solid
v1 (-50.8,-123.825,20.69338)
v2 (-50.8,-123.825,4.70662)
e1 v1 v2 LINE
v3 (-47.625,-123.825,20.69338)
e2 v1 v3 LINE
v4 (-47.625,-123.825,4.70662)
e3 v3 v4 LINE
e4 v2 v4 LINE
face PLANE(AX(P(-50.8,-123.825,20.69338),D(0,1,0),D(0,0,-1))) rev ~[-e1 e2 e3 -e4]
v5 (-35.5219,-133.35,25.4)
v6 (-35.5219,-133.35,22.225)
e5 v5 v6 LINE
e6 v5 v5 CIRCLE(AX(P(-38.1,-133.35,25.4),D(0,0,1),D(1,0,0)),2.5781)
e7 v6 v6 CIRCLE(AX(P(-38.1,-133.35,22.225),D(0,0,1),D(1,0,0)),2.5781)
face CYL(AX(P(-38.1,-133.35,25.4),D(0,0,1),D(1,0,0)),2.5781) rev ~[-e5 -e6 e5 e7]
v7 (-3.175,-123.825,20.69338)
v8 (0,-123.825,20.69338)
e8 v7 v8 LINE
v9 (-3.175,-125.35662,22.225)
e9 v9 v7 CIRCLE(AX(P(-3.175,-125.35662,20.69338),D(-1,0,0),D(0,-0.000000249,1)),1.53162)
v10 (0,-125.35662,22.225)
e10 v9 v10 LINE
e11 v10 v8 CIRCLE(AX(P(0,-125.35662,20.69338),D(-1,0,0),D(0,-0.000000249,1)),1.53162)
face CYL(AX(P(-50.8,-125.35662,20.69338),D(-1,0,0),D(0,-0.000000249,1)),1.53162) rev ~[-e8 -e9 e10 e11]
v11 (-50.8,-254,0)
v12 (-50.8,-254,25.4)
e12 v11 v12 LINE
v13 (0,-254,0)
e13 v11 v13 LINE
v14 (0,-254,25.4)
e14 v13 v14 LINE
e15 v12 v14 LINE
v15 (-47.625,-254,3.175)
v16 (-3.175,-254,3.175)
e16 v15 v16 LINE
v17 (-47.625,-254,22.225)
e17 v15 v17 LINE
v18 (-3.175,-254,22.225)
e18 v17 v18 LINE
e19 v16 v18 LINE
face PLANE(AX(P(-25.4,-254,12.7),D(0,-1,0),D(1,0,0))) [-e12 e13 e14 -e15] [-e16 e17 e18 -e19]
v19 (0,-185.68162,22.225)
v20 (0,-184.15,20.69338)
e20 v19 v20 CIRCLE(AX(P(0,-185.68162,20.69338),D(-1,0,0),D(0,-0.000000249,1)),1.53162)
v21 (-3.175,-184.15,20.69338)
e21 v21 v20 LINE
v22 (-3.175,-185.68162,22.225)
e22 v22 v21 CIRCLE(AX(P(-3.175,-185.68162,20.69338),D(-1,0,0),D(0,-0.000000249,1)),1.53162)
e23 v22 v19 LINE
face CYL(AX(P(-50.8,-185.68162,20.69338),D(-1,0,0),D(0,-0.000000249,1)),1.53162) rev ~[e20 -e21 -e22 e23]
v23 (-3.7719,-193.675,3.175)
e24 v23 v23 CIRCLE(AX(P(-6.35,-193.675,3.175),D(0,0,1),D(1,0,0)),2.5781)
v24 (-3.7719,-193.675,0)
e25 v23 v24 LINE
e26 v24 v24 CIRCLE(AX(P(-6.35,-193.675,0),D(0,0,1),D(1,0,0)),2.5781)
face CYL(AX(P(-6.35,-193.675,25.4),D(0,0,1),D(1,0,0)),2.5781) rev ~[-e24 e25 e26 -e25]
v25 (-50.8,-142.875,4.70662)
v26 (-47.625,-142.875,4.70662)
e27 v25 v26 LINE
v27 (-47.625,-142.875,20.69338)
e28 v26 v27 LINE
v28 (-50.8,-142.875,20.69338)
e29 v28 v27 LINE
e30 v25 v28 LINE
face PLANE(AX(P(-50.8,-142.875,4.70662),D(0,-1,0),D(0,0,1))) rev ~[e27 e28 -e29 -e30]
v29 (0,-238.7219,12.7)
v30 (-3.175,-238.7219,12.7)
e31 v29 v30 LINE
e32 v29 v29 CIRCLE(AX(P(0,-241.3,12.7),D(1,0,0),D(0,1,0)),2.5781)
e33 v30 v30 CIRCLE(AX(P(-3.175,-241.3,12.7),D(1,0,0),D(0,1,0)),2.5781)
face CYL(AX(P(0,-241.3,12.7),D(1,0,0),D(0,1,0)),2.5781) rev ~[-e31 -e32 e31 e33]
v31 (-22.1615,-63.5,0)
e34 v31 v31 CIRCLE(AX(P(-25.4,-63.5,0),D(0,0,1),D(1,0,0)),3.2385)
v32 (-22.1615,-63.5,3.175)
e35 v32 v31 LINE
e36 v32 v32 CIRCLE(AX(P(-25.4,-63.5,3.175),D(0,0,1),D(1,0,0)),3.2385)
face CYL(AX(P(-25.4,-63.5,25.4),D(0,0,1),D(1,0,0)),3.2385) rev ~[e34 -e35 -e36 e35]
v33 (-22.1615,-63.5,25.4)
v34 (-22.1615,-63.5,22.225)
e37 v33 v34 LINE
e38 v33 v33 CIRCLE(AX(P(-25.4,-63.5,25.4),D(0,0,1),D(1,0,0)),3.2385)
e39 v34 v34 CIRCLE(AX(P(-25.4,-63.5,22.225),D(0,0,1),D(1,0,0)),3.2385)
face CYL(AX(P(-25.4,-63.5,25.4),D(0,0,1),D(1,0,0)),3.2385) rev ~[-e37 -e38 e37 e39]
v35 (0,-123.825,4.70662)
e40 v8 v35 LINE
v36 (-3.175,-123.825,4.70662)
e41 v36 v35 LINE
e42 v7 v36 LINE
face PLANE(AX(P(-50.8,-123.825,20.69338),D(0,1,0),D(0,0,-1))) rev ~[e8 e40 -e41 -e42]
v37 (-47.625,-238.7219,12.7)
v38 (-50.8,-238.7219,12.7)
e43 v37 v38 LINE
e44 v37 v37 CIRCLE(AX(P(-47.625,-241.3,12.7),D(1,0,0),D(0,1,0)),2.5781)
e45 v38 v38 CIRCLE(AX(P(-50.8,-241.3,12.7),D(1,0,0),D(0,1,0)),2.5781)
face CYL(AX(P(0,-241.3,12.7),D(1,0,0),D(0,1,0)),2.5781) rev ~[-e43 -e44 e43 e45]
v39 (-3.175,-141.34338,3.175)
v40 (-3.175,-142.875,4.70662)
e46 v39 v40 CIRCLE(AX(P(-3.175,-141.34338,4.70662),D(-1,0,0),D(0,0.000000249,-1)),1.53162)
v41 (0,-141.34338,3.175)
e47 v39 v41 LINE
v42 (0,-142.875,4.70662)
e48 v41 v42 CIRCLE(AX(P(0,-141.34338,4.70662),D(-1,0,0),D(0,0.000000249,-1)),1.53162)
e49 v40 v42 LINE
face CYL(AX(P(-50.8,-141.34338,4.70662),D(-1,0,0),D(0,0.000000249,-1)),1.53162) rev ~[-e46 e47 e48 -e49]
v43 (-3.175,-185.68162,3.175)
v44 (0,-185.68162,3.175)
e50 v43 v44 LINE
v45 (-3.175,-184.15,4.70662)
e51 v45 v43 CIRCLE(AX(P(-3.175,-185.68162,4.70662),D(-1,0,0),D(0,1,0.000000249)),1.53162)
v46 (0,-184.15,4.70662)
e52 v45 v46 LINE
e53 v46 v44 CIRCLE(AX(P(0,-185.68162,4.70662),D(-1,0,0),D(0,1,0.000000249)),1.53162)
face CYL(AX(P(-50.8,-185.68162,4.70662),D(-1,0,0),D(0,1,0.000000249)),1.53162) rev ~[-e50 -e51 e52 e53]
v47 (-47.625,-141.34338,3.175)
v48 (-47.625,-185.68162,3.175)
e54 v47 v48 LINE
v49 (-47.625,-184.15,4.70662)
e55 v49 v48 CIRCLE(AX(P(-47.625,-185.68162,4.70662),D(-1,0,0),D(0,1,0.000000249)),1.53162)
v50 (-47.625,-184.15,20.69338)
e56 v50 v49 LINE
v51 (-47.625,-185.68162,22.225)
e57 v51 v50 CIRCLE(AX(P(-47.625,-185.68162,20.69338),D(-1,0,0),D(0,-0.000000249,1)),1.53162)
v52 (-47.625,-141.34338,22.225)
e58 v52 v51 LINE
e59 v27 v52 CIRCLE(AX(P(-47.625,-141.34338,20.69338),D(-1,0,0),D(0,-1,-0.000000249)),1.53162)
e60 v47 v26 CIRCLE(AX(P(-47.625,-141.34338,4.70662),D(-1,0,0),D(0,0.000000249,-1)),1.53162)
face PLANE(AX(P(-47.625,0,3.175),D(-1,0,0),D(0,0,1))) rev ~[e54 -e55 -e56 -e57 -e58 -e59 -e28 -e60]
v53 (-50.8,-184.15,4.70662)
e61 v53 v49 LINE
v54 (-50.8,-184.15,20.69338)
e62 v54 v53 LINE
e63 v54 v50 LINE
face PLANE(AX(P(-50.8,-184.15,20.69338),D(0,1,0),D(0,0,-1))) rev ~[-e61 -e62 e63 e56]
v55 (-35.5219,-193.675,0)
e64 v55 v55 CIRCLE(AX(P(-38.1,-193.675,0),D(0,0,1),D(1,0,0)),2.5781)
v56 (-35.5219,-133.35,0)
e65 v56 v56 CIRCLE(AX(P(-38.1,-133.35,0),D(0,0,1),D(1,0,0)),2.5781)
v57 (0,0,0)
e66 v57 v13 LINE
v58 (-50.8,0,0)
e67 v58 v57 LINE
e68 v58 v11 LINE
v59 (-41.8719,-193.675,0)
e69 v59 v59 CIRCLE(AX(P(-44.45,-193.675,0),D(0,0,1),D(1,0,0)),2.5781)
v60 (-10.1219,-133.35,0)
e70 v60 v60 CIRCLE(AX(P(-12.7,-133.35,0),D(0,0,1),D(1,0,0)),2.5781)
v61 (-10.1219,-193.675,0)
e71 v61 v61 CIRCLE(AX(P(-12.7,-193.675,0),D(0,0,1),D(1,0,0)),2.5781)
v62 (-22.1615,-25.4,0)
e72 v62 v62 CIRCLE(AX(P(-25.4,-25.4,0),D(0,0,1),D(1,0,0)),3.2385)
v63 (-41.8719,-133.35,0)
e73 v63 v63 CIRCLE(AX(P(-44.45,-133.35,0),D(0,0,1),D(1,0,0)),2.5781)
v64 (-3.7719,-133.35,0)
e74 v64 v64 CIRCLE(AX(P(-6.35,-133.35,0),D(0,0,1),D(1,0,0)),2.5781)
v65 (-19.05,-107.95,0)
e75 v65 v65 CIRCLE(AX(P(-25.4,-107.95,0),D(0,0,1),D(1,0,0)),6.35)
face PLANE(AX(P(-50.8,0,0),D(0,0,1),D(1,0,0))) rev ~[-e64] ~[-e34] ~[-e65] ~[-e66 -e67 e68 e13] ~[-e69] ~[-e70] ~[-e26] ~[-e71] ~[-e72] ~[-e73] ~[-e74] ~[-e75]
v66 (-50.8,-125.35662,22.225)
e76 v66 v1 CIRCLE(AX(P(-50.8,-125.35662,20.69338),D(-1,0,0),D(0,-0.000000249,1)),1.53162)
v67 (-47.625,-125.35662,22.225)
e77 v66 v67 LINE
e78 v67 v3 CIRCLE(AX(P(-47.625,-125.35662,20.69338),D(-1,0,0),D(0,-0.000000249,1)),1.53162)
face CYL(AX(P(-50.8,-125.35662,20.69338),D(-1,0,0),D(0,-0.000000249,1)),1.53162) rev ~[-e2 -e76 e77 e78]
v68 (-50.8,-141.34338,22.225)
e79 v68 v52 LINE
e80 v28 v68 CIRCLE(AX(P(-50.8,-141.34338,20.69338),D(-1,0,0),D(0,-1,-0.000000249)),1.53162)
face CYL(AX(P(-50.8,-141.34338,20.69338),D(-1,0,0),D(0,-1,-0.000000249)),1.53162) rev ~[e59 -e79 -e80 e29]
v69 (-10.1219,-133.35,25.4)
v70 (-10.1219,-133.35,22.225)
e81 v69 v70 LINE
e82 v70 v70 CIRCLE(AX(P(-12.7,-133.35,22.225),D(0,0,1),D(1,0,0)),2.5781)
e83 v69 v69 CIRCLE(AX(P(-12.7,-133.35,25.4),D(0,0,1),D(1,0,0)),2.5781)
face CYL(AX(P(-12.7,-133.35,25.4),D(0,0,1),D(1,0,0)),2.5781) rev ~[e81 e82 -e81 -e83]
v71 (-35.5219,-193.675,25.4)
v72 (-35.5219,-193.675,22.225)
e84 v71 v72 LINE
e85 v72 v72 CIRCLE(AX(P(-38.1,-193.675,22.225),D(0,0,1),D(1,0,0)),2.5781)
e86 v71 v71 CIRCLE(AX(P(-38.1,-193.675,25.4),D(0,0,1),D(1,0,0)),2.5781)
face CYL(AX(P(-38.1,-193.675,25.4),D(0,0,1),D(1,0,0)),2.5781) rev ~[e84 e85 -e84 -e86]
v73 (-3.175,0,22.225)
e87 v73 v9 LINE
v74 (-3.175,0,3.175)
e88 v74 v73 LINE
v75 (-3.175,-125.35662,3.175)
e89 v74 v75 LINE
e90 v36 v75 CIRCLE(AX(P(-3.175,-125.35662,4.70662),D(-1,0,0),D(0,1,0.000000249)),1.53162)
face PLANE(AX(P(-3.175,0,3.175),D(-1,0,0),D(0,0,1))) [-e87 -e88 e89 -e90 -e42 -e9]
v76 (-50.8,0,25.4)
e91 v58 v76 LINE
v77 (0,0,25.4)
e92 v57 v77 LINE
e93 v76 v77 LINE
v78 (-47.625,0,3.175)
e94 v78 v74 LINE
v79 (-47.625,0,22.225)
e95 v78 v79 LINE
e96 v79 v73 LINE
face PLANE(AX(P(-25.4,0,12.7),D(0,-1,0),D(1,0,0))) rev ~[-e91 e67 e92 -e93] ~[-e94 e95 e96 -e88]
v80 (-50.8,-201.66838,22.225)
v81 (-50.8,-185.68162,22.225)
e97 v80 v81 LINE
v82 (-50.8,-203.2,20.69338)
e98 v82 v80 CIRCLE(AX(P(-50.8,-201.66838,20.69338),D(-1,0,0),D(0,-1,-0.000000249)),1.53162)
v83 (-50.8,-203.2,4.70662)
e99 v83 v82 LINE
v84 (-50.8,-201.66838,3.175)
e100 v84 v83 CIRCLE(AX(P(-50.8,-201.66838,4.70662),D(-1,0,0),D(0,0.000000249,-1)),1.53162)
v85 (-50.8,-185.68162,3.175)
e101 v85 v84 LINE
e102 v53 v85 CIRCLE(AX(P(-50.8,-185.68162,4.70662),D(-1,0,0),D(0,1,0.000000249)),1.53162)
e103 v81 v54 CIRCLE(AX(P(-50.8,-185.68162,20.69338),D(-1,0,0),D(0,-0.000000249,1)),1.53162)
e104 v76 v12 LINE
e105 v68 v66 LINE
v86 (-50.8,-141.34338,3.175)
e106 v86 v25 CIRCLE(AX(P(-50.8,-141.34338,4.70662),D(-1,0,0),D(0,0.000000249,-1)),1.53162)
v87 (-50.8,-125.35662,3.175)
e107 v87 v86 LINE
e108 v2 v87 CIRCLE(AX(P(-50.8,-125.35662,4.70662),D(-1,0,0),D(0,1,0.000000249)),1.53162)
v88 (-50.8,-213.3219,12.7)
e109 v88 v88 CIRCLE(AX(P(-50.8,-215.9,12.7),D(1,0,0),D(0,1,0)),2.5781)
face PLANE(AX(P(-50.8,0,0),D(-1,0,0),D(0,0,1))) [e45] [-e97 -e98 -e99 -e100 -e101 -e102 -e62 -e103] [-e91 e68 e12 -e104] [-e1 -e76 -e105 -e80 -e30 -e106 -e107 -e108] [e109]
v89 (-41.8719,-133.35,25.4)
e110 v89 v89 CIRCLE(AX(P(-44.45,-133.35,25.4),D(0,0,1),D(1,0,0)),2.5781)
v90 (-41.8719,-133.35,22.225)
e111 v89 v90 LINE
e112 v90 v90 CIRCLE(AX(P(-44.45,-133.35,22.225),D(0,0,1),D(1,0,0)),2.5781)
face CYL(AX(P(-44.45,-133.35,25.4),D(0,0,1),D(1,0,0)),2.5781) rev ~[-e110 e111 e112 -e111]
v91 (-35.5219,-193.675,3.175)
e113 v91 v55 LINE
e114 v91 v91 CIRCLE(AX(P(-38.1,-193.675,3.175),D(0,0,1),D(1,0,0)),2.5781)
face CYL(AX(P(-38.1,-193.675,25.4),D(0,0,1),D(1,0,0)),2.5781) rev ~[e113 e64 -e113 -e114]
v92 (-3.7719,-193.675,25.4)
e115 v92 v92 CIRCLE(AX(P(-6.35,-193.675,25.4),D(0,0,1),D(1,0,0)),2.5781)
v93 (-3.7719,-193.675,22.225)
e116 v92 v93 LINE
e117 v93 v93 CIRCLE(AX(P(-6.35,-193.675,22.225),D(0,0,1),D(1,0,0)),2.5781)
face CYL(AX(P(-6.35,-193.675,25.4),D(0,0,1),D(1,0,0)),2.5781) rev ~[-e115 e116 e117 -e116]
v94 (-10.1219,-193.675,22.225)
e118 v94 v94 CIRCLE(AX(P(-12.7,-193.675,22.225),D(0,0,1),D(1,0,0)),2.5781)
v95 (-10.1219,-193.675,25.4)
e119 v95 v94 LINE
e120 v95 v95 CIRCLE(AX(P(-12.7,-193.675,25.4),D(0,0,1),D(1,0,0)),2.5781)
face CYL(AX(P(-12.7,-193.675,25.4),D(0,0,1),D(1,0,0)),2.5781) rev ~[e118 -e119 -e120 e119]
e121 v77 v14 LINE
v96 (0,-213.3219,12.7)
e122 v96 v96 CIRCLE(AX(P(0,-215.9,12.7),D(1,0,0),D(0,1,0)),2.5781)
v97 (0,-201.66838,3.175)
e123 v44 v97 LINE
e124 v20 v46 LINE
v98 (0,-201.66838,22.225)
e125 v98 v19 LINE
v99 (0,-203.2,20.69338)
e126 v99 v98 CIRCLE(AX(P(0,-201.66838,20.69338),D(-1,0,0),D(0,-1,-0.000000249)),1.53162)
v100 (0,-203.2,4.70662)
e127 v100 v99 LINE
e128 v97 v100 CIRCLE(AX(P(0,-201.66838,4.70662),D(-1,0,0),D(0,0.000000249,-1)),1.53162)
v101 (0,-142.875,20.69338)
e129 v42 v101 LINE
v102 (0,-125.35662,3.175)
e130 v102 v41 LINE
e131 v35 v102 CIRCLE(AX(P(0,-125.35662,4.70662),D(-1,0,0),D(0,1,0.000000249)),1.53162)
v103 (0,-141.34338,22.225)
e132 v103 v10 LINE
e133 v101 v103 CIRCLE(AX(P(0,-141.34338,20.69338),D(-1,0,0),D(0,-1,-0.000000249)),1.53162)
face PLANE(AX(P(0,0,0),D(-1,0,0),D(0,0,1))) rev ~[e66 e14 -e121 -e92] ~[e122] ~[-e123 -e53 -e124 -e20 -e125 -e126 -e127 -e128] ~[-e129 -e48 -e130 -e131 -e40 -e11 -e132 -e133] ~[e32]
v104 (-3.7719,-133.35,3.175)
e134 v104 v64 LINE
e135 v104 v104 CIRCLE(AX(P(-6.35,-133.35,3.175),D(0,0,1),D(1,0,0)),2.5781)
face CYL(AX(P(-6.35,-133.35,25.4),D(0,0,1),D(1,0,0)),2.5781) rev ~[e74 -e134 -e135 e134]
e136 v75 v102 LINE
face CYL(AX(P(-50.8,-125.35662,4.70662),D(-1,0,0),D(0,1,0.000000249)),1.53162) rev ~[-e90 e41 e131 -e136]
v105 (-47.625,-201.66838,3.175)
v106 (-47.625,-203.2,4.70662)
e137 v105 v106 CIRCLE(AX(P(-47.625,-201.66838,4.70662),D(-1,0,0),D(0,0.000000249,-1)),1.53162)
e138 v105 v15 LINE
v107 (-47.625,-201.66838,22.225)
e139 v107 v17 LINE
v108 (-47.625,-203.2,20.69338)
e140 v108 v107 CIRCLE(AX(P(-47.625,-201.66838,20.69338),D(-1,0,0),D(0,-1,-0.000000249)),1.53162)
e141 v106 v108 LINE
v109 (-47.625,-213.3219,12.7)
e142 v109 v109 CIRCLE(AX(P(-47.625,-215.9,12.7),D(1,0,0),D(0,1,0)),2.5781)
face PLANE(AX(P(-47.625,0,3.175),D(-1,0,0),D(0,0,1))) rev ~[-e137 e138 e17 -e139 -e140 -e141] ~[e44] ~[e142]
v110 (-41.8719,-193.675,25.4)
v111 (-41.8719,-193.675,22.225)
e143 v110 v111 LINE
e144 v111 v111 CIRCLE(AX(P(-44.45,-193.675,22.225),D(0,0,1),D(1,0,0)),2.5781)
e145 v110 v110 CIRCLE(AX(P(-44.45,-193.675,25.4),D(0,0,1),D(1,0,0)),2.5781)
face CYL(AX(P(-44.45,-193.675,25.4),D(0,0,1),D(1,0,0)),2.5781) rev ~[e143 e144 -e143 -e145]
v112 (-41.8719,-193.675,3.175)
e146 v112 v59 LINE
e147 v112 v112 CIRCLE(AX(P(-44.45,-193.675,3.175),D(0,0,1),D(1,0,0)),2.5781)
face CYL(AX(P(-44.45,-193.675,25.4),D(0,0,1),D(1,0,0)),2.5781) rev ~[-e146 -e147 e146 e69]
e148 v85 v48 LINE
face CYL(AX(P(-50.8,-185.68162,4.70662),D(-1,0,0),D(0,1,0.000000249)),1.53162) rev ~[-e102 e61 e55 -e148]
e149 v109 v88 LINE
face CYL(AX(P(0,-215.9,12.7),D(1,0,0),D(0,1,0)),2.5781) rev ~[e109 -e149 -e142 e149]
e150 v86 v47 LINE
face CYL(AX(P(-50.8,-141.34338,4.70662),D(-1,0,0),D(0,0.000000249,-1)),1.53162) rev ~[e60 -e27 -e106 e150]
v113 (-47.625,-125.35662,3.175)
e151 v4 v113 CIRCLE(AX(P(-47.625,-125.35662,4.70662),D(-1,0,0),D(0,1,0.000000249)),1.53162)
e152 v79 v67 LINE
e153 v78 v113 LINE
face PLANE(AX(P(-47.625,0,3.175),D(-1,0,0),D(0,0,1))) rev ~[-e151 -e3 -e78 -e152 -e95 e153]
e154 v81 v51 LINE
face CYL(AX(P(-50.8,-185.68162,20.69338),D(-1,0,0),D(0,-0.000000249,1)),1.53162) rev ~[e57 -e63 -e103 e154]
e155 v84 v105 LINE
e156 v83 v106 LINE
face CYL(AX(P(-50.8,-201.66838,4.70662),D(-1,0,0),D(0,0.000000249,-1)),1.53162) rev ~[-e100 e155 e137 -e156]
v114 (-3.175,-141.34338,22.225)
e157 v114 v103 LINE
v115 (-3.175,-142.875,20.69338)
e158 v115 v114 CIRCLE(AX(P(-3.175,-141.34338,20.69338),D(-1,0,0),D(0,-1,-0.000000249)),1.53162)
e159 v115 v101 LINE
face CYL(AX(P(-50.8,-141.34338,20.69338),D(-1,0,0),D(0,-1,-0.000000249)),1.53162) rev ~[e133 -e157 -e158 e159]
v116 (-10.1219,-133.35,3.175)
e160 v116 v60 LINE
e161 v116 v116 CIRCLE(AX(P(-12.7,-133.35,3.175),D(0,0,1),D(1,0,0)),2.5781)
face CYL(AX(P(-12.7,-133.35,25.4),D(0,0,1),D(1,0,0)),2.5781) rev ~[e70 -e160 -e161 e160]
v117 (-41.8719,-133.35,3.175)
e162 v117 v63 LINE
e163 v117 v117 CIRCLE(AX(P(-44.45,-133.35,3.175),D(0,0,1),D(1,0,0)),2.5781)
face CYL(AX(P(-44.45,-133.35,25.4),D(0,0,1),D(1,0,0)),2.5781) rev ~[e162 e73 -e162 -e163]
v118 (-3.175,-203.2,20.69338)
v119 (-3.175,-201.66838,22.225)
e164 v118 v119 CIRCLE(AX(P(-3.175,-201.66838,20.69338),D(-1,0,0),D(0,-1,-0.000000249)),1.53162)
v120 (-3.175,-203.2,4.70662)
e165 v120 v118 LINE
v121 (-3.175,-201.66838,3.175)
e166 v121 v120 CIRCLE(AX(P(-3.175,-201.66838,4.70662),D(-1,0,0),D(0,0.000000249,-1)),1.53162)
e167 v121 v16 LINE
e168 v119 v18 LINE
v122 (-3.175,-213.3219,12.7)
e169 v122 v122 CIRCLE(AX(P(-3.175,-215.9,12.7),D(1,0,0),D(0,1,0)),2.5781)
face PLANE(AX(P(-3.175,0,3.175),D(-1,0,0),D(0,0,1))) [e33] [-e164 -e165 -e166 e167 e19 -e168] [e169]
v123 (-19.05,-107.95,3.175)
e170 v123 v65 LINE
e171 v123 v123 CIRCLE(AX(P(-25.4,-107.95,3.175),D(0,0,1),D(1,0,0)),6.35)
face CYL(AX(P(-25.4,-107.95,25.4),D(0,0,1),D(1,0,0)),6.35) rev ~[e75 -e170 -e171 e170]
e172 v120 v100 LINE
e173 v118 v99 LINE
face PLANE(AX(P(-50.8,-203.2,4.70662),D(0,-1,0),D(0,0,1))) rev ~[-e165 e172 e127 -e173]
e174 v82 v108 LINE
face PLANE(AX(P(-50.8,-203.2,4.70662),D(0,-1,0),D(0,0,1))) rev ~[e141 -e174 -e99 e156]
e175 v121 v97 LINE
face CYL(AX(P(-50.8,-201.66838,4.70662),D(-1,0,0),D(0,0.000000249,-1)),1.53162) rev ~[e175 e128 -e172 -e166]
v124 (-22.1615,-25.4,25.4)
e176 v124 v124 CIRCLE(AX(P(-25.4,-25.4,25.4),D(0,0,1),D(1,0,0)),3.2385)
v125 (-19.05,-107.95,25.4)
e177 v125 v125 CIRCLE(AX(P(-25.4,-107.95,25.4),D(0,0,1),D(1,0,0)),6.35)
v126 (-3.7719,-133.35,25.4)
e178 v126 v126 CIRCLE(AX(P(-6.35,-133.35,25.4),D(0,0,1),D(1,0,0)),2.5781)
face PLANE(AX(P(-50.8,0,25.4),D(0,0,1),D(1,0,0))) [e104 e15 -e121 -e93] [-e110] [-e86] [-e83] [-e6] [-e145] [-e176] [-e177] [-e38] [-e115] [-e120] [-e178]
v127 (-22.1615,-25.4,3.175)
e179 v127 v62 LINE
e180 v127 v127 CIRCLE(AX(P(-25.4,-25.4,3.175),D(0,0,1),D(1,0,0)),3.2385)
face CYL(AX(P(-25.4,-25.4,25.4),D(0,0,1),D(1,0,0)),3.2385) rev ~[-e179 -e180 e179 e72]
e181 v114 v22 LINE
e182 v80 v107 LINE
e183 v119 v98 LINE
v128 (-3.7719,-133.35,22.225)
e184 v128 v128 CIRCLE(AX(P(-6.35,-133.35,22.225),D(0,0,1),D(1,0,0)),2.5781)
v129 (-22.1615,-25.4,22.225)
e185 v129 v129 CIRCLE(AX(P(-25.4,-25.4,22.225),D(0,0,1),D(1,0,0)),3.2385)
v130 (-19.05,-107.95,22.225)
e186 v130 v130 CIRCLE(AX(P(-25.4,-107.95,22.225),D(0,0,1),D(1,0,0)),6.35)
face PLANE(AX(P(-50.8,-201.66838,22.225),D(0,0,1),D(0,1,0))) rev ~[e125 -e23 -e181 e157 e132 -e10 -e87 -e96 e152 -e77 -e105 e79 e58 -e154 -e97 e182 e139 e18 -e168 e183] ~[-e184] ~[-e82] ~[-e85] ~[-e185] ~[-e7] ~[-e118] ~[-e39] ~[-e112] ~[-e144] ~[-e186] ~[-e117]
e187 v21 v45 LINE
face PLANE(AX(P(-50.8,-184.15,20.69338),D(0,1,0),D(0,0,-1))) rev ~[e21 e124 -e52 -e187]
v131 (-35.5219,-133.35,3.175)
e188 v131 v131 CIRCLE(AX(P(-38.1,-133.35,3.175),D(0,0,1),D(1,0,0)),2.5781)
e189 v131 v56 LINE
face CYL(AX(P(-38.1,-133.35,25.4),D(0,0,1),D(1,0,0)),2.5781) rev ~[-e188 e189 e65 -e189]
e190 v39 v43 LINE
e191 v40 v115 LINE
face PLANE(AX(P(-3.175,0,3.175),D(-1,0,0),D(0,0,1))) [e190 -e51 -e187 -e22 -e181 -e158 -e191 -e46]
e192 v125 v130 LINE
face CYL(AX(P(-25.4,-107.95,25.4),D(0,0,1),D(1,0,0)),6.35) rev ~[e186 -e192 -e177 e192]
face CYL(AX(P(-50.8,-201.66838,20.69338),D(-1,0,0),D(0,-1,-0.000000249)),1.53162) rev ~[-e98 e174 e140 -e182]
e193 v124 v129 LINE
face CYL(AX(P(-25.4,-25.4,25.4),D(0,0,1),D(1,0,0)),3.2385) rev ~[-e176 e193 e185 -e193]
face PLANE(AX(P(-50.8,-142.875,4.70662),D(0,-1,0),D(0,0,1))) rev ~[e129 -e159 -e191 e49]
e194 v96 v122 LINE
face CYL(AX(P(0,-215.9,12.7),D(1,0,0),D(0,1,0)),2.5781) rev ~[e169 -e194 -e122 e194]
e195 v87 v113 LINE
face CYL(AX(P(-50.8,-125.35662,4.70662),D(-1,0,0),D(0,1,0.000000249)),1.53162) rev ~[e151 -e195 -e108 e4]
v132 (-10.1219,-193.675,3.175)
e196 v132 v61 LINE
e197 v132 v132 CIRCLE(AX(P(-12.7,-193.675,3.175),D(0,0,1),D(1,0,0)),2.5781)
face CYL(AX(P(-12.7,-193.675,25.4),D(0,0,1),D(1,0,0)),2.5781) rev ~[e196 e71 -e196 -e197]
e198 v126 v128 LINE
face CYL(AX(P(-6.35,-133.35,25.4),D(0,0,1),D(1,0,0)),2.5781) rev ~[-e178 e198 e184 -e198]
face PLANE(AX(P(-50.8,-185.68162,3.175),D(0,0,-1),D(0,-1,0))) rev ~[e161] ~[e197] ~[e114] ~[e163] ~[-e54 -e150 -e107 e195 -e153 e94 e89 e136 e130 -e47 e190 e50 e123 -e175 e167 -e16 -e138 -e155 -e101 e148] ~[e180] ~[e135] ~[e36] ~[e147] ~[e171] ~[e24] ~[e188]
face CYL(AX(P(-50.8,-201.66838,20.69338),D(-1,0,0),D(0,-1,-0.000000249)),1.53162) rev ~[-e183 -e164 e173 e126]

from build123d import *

# Parameters (mm, degrees)
F0_W     = 50.8
F0_H     = 25.4
F0_W_2   = 44.45
F0_H_2   = 19.05
F1_DEPTH = 254
F2_R     = 3.2385
F2_R_2   = 6.35
F2_R_3   = 2.5781
F3_DEPTH = 25.4
F4_R     = 2.5781
F5_DEPTH = 50.801
F7_DEPTH = 50.801


with BuildPart() as f1:
    # F0 (on Front) → F1 (new body)
    with BuildSketch(Plane.XZ):
        with Locations((-25.4, 12.7)):
            Rectangle(F0_W, F0_H)
        with Locations((-25.4, 12.7)):
            Rectangle(F0_W_2, F0_H_2, mode=Mode.SUBTRACT)
    extrude(amount=F1_DEPTH)

    # F2 (on face) → F3 (cut)
    with BuildSketch(Plane.XY.offset(25.4)):
        with Locations((-25.4, -63.5)):
            Circle(F2_R)
        with Locations((-25.4, -25.4)):
            Circle(F2_R)
        with Locations((-25.4, -107.95)):
            Circle(F2_R_2)
        with Locations((-44.45, -133.35)):
            Circle(F2_R_3)
        with Locations((-38.1, -133.35)):
            Circle(F2_R_3)
        with Locations((-12.7, -133.35)):
            Circle(F2_R_3)
        with Locations((-6.35, -133.35)):
            Circle(F2_R_3)
        with Locations((-44.45, -193.675)):
            Circle(F2_R_3)
        with Locations((-38.1, -193.675)):
            Circle(F2_R_3)
        with Locations((-12.7, -193.675)):
            Circle(F2_R_3)
        with Locations((-6.35, -193.675)):
            Circle(F2_R_3)
    extrude(amount=-F3_DEPTH, mode=Mode.SUBTRACT)

    # F4 (on face) → F5 (cut, through all)
    with BuildSketch(Plane.YZ):
        with Locations((-241.3, 12.7)):
            Circle(F4_R)
        with Locations((-215.9, 12.7)):
            Circle(F4_R)
    extrude(amount=-F5_DEPTH, mode=Mode.SUBTRACT)

    # F6 (on face) → F7 (cut, through all)
    with BuildSketch(Plane(origin=(-50.8, 0, 0), x_dir=(0, -1, 0), z_dir=(-1, 0, 0))):
        with BuildLine():
            Line((201.66838, 22.225), (185.68162, 22.225))
            ThreePointArc((185.68162, 22.225), (184.598601, 21.776399), (184.15, 20.69338))
            Line((184.15, 20.69338), (184.15, 4.70662))
            ThreePointArc((184.15, 4.70662), (184.598601, 3.623601), (185.68162, 3.175))
            Line((185.68162, 3.175), (201.66838, 3.175))
            ThreePointArc((201.66838, 3.175), (202.751399, 3.623601), (203.2, 4.70662))
            Line((203.2, 4.70662), (203.2, 20.69338))
            ThreePointArc((203.2, 20.69338), (202.751399, 21.776399), (201.66838, 22.225))
        make_face()
        with BuildLine():
            Line((141.34338, 22.225), (125.35662, 22.225))
            ThreePointArc((125.35662, 22.225), (124.273601, 21.776399), (123.825, 20.69338))
            Line((123.825, 20.69338), (123.825, 4.70662))
            ThreePointArc((123.825, 4.70662), (124.273601, 3.623601), (125.35662, 3.175))
            Line((125.35662, 3.175), (141.34338, 3.175))
            ThreePointArc((141.34338, 3.175), (142.426399, 3.623601), (142.875, 4.70662))
            Line((142.875, 4.70662), (142.875, 20.69338))
            ThreePointArc((142.875, 20.69338), (142.426399, 21.776399), (141.34338, 22.225))
        make_face()
    extrude(amount=-F7_DEPTH, mode=Mode.SUBTRACT)


solid = f1.part
